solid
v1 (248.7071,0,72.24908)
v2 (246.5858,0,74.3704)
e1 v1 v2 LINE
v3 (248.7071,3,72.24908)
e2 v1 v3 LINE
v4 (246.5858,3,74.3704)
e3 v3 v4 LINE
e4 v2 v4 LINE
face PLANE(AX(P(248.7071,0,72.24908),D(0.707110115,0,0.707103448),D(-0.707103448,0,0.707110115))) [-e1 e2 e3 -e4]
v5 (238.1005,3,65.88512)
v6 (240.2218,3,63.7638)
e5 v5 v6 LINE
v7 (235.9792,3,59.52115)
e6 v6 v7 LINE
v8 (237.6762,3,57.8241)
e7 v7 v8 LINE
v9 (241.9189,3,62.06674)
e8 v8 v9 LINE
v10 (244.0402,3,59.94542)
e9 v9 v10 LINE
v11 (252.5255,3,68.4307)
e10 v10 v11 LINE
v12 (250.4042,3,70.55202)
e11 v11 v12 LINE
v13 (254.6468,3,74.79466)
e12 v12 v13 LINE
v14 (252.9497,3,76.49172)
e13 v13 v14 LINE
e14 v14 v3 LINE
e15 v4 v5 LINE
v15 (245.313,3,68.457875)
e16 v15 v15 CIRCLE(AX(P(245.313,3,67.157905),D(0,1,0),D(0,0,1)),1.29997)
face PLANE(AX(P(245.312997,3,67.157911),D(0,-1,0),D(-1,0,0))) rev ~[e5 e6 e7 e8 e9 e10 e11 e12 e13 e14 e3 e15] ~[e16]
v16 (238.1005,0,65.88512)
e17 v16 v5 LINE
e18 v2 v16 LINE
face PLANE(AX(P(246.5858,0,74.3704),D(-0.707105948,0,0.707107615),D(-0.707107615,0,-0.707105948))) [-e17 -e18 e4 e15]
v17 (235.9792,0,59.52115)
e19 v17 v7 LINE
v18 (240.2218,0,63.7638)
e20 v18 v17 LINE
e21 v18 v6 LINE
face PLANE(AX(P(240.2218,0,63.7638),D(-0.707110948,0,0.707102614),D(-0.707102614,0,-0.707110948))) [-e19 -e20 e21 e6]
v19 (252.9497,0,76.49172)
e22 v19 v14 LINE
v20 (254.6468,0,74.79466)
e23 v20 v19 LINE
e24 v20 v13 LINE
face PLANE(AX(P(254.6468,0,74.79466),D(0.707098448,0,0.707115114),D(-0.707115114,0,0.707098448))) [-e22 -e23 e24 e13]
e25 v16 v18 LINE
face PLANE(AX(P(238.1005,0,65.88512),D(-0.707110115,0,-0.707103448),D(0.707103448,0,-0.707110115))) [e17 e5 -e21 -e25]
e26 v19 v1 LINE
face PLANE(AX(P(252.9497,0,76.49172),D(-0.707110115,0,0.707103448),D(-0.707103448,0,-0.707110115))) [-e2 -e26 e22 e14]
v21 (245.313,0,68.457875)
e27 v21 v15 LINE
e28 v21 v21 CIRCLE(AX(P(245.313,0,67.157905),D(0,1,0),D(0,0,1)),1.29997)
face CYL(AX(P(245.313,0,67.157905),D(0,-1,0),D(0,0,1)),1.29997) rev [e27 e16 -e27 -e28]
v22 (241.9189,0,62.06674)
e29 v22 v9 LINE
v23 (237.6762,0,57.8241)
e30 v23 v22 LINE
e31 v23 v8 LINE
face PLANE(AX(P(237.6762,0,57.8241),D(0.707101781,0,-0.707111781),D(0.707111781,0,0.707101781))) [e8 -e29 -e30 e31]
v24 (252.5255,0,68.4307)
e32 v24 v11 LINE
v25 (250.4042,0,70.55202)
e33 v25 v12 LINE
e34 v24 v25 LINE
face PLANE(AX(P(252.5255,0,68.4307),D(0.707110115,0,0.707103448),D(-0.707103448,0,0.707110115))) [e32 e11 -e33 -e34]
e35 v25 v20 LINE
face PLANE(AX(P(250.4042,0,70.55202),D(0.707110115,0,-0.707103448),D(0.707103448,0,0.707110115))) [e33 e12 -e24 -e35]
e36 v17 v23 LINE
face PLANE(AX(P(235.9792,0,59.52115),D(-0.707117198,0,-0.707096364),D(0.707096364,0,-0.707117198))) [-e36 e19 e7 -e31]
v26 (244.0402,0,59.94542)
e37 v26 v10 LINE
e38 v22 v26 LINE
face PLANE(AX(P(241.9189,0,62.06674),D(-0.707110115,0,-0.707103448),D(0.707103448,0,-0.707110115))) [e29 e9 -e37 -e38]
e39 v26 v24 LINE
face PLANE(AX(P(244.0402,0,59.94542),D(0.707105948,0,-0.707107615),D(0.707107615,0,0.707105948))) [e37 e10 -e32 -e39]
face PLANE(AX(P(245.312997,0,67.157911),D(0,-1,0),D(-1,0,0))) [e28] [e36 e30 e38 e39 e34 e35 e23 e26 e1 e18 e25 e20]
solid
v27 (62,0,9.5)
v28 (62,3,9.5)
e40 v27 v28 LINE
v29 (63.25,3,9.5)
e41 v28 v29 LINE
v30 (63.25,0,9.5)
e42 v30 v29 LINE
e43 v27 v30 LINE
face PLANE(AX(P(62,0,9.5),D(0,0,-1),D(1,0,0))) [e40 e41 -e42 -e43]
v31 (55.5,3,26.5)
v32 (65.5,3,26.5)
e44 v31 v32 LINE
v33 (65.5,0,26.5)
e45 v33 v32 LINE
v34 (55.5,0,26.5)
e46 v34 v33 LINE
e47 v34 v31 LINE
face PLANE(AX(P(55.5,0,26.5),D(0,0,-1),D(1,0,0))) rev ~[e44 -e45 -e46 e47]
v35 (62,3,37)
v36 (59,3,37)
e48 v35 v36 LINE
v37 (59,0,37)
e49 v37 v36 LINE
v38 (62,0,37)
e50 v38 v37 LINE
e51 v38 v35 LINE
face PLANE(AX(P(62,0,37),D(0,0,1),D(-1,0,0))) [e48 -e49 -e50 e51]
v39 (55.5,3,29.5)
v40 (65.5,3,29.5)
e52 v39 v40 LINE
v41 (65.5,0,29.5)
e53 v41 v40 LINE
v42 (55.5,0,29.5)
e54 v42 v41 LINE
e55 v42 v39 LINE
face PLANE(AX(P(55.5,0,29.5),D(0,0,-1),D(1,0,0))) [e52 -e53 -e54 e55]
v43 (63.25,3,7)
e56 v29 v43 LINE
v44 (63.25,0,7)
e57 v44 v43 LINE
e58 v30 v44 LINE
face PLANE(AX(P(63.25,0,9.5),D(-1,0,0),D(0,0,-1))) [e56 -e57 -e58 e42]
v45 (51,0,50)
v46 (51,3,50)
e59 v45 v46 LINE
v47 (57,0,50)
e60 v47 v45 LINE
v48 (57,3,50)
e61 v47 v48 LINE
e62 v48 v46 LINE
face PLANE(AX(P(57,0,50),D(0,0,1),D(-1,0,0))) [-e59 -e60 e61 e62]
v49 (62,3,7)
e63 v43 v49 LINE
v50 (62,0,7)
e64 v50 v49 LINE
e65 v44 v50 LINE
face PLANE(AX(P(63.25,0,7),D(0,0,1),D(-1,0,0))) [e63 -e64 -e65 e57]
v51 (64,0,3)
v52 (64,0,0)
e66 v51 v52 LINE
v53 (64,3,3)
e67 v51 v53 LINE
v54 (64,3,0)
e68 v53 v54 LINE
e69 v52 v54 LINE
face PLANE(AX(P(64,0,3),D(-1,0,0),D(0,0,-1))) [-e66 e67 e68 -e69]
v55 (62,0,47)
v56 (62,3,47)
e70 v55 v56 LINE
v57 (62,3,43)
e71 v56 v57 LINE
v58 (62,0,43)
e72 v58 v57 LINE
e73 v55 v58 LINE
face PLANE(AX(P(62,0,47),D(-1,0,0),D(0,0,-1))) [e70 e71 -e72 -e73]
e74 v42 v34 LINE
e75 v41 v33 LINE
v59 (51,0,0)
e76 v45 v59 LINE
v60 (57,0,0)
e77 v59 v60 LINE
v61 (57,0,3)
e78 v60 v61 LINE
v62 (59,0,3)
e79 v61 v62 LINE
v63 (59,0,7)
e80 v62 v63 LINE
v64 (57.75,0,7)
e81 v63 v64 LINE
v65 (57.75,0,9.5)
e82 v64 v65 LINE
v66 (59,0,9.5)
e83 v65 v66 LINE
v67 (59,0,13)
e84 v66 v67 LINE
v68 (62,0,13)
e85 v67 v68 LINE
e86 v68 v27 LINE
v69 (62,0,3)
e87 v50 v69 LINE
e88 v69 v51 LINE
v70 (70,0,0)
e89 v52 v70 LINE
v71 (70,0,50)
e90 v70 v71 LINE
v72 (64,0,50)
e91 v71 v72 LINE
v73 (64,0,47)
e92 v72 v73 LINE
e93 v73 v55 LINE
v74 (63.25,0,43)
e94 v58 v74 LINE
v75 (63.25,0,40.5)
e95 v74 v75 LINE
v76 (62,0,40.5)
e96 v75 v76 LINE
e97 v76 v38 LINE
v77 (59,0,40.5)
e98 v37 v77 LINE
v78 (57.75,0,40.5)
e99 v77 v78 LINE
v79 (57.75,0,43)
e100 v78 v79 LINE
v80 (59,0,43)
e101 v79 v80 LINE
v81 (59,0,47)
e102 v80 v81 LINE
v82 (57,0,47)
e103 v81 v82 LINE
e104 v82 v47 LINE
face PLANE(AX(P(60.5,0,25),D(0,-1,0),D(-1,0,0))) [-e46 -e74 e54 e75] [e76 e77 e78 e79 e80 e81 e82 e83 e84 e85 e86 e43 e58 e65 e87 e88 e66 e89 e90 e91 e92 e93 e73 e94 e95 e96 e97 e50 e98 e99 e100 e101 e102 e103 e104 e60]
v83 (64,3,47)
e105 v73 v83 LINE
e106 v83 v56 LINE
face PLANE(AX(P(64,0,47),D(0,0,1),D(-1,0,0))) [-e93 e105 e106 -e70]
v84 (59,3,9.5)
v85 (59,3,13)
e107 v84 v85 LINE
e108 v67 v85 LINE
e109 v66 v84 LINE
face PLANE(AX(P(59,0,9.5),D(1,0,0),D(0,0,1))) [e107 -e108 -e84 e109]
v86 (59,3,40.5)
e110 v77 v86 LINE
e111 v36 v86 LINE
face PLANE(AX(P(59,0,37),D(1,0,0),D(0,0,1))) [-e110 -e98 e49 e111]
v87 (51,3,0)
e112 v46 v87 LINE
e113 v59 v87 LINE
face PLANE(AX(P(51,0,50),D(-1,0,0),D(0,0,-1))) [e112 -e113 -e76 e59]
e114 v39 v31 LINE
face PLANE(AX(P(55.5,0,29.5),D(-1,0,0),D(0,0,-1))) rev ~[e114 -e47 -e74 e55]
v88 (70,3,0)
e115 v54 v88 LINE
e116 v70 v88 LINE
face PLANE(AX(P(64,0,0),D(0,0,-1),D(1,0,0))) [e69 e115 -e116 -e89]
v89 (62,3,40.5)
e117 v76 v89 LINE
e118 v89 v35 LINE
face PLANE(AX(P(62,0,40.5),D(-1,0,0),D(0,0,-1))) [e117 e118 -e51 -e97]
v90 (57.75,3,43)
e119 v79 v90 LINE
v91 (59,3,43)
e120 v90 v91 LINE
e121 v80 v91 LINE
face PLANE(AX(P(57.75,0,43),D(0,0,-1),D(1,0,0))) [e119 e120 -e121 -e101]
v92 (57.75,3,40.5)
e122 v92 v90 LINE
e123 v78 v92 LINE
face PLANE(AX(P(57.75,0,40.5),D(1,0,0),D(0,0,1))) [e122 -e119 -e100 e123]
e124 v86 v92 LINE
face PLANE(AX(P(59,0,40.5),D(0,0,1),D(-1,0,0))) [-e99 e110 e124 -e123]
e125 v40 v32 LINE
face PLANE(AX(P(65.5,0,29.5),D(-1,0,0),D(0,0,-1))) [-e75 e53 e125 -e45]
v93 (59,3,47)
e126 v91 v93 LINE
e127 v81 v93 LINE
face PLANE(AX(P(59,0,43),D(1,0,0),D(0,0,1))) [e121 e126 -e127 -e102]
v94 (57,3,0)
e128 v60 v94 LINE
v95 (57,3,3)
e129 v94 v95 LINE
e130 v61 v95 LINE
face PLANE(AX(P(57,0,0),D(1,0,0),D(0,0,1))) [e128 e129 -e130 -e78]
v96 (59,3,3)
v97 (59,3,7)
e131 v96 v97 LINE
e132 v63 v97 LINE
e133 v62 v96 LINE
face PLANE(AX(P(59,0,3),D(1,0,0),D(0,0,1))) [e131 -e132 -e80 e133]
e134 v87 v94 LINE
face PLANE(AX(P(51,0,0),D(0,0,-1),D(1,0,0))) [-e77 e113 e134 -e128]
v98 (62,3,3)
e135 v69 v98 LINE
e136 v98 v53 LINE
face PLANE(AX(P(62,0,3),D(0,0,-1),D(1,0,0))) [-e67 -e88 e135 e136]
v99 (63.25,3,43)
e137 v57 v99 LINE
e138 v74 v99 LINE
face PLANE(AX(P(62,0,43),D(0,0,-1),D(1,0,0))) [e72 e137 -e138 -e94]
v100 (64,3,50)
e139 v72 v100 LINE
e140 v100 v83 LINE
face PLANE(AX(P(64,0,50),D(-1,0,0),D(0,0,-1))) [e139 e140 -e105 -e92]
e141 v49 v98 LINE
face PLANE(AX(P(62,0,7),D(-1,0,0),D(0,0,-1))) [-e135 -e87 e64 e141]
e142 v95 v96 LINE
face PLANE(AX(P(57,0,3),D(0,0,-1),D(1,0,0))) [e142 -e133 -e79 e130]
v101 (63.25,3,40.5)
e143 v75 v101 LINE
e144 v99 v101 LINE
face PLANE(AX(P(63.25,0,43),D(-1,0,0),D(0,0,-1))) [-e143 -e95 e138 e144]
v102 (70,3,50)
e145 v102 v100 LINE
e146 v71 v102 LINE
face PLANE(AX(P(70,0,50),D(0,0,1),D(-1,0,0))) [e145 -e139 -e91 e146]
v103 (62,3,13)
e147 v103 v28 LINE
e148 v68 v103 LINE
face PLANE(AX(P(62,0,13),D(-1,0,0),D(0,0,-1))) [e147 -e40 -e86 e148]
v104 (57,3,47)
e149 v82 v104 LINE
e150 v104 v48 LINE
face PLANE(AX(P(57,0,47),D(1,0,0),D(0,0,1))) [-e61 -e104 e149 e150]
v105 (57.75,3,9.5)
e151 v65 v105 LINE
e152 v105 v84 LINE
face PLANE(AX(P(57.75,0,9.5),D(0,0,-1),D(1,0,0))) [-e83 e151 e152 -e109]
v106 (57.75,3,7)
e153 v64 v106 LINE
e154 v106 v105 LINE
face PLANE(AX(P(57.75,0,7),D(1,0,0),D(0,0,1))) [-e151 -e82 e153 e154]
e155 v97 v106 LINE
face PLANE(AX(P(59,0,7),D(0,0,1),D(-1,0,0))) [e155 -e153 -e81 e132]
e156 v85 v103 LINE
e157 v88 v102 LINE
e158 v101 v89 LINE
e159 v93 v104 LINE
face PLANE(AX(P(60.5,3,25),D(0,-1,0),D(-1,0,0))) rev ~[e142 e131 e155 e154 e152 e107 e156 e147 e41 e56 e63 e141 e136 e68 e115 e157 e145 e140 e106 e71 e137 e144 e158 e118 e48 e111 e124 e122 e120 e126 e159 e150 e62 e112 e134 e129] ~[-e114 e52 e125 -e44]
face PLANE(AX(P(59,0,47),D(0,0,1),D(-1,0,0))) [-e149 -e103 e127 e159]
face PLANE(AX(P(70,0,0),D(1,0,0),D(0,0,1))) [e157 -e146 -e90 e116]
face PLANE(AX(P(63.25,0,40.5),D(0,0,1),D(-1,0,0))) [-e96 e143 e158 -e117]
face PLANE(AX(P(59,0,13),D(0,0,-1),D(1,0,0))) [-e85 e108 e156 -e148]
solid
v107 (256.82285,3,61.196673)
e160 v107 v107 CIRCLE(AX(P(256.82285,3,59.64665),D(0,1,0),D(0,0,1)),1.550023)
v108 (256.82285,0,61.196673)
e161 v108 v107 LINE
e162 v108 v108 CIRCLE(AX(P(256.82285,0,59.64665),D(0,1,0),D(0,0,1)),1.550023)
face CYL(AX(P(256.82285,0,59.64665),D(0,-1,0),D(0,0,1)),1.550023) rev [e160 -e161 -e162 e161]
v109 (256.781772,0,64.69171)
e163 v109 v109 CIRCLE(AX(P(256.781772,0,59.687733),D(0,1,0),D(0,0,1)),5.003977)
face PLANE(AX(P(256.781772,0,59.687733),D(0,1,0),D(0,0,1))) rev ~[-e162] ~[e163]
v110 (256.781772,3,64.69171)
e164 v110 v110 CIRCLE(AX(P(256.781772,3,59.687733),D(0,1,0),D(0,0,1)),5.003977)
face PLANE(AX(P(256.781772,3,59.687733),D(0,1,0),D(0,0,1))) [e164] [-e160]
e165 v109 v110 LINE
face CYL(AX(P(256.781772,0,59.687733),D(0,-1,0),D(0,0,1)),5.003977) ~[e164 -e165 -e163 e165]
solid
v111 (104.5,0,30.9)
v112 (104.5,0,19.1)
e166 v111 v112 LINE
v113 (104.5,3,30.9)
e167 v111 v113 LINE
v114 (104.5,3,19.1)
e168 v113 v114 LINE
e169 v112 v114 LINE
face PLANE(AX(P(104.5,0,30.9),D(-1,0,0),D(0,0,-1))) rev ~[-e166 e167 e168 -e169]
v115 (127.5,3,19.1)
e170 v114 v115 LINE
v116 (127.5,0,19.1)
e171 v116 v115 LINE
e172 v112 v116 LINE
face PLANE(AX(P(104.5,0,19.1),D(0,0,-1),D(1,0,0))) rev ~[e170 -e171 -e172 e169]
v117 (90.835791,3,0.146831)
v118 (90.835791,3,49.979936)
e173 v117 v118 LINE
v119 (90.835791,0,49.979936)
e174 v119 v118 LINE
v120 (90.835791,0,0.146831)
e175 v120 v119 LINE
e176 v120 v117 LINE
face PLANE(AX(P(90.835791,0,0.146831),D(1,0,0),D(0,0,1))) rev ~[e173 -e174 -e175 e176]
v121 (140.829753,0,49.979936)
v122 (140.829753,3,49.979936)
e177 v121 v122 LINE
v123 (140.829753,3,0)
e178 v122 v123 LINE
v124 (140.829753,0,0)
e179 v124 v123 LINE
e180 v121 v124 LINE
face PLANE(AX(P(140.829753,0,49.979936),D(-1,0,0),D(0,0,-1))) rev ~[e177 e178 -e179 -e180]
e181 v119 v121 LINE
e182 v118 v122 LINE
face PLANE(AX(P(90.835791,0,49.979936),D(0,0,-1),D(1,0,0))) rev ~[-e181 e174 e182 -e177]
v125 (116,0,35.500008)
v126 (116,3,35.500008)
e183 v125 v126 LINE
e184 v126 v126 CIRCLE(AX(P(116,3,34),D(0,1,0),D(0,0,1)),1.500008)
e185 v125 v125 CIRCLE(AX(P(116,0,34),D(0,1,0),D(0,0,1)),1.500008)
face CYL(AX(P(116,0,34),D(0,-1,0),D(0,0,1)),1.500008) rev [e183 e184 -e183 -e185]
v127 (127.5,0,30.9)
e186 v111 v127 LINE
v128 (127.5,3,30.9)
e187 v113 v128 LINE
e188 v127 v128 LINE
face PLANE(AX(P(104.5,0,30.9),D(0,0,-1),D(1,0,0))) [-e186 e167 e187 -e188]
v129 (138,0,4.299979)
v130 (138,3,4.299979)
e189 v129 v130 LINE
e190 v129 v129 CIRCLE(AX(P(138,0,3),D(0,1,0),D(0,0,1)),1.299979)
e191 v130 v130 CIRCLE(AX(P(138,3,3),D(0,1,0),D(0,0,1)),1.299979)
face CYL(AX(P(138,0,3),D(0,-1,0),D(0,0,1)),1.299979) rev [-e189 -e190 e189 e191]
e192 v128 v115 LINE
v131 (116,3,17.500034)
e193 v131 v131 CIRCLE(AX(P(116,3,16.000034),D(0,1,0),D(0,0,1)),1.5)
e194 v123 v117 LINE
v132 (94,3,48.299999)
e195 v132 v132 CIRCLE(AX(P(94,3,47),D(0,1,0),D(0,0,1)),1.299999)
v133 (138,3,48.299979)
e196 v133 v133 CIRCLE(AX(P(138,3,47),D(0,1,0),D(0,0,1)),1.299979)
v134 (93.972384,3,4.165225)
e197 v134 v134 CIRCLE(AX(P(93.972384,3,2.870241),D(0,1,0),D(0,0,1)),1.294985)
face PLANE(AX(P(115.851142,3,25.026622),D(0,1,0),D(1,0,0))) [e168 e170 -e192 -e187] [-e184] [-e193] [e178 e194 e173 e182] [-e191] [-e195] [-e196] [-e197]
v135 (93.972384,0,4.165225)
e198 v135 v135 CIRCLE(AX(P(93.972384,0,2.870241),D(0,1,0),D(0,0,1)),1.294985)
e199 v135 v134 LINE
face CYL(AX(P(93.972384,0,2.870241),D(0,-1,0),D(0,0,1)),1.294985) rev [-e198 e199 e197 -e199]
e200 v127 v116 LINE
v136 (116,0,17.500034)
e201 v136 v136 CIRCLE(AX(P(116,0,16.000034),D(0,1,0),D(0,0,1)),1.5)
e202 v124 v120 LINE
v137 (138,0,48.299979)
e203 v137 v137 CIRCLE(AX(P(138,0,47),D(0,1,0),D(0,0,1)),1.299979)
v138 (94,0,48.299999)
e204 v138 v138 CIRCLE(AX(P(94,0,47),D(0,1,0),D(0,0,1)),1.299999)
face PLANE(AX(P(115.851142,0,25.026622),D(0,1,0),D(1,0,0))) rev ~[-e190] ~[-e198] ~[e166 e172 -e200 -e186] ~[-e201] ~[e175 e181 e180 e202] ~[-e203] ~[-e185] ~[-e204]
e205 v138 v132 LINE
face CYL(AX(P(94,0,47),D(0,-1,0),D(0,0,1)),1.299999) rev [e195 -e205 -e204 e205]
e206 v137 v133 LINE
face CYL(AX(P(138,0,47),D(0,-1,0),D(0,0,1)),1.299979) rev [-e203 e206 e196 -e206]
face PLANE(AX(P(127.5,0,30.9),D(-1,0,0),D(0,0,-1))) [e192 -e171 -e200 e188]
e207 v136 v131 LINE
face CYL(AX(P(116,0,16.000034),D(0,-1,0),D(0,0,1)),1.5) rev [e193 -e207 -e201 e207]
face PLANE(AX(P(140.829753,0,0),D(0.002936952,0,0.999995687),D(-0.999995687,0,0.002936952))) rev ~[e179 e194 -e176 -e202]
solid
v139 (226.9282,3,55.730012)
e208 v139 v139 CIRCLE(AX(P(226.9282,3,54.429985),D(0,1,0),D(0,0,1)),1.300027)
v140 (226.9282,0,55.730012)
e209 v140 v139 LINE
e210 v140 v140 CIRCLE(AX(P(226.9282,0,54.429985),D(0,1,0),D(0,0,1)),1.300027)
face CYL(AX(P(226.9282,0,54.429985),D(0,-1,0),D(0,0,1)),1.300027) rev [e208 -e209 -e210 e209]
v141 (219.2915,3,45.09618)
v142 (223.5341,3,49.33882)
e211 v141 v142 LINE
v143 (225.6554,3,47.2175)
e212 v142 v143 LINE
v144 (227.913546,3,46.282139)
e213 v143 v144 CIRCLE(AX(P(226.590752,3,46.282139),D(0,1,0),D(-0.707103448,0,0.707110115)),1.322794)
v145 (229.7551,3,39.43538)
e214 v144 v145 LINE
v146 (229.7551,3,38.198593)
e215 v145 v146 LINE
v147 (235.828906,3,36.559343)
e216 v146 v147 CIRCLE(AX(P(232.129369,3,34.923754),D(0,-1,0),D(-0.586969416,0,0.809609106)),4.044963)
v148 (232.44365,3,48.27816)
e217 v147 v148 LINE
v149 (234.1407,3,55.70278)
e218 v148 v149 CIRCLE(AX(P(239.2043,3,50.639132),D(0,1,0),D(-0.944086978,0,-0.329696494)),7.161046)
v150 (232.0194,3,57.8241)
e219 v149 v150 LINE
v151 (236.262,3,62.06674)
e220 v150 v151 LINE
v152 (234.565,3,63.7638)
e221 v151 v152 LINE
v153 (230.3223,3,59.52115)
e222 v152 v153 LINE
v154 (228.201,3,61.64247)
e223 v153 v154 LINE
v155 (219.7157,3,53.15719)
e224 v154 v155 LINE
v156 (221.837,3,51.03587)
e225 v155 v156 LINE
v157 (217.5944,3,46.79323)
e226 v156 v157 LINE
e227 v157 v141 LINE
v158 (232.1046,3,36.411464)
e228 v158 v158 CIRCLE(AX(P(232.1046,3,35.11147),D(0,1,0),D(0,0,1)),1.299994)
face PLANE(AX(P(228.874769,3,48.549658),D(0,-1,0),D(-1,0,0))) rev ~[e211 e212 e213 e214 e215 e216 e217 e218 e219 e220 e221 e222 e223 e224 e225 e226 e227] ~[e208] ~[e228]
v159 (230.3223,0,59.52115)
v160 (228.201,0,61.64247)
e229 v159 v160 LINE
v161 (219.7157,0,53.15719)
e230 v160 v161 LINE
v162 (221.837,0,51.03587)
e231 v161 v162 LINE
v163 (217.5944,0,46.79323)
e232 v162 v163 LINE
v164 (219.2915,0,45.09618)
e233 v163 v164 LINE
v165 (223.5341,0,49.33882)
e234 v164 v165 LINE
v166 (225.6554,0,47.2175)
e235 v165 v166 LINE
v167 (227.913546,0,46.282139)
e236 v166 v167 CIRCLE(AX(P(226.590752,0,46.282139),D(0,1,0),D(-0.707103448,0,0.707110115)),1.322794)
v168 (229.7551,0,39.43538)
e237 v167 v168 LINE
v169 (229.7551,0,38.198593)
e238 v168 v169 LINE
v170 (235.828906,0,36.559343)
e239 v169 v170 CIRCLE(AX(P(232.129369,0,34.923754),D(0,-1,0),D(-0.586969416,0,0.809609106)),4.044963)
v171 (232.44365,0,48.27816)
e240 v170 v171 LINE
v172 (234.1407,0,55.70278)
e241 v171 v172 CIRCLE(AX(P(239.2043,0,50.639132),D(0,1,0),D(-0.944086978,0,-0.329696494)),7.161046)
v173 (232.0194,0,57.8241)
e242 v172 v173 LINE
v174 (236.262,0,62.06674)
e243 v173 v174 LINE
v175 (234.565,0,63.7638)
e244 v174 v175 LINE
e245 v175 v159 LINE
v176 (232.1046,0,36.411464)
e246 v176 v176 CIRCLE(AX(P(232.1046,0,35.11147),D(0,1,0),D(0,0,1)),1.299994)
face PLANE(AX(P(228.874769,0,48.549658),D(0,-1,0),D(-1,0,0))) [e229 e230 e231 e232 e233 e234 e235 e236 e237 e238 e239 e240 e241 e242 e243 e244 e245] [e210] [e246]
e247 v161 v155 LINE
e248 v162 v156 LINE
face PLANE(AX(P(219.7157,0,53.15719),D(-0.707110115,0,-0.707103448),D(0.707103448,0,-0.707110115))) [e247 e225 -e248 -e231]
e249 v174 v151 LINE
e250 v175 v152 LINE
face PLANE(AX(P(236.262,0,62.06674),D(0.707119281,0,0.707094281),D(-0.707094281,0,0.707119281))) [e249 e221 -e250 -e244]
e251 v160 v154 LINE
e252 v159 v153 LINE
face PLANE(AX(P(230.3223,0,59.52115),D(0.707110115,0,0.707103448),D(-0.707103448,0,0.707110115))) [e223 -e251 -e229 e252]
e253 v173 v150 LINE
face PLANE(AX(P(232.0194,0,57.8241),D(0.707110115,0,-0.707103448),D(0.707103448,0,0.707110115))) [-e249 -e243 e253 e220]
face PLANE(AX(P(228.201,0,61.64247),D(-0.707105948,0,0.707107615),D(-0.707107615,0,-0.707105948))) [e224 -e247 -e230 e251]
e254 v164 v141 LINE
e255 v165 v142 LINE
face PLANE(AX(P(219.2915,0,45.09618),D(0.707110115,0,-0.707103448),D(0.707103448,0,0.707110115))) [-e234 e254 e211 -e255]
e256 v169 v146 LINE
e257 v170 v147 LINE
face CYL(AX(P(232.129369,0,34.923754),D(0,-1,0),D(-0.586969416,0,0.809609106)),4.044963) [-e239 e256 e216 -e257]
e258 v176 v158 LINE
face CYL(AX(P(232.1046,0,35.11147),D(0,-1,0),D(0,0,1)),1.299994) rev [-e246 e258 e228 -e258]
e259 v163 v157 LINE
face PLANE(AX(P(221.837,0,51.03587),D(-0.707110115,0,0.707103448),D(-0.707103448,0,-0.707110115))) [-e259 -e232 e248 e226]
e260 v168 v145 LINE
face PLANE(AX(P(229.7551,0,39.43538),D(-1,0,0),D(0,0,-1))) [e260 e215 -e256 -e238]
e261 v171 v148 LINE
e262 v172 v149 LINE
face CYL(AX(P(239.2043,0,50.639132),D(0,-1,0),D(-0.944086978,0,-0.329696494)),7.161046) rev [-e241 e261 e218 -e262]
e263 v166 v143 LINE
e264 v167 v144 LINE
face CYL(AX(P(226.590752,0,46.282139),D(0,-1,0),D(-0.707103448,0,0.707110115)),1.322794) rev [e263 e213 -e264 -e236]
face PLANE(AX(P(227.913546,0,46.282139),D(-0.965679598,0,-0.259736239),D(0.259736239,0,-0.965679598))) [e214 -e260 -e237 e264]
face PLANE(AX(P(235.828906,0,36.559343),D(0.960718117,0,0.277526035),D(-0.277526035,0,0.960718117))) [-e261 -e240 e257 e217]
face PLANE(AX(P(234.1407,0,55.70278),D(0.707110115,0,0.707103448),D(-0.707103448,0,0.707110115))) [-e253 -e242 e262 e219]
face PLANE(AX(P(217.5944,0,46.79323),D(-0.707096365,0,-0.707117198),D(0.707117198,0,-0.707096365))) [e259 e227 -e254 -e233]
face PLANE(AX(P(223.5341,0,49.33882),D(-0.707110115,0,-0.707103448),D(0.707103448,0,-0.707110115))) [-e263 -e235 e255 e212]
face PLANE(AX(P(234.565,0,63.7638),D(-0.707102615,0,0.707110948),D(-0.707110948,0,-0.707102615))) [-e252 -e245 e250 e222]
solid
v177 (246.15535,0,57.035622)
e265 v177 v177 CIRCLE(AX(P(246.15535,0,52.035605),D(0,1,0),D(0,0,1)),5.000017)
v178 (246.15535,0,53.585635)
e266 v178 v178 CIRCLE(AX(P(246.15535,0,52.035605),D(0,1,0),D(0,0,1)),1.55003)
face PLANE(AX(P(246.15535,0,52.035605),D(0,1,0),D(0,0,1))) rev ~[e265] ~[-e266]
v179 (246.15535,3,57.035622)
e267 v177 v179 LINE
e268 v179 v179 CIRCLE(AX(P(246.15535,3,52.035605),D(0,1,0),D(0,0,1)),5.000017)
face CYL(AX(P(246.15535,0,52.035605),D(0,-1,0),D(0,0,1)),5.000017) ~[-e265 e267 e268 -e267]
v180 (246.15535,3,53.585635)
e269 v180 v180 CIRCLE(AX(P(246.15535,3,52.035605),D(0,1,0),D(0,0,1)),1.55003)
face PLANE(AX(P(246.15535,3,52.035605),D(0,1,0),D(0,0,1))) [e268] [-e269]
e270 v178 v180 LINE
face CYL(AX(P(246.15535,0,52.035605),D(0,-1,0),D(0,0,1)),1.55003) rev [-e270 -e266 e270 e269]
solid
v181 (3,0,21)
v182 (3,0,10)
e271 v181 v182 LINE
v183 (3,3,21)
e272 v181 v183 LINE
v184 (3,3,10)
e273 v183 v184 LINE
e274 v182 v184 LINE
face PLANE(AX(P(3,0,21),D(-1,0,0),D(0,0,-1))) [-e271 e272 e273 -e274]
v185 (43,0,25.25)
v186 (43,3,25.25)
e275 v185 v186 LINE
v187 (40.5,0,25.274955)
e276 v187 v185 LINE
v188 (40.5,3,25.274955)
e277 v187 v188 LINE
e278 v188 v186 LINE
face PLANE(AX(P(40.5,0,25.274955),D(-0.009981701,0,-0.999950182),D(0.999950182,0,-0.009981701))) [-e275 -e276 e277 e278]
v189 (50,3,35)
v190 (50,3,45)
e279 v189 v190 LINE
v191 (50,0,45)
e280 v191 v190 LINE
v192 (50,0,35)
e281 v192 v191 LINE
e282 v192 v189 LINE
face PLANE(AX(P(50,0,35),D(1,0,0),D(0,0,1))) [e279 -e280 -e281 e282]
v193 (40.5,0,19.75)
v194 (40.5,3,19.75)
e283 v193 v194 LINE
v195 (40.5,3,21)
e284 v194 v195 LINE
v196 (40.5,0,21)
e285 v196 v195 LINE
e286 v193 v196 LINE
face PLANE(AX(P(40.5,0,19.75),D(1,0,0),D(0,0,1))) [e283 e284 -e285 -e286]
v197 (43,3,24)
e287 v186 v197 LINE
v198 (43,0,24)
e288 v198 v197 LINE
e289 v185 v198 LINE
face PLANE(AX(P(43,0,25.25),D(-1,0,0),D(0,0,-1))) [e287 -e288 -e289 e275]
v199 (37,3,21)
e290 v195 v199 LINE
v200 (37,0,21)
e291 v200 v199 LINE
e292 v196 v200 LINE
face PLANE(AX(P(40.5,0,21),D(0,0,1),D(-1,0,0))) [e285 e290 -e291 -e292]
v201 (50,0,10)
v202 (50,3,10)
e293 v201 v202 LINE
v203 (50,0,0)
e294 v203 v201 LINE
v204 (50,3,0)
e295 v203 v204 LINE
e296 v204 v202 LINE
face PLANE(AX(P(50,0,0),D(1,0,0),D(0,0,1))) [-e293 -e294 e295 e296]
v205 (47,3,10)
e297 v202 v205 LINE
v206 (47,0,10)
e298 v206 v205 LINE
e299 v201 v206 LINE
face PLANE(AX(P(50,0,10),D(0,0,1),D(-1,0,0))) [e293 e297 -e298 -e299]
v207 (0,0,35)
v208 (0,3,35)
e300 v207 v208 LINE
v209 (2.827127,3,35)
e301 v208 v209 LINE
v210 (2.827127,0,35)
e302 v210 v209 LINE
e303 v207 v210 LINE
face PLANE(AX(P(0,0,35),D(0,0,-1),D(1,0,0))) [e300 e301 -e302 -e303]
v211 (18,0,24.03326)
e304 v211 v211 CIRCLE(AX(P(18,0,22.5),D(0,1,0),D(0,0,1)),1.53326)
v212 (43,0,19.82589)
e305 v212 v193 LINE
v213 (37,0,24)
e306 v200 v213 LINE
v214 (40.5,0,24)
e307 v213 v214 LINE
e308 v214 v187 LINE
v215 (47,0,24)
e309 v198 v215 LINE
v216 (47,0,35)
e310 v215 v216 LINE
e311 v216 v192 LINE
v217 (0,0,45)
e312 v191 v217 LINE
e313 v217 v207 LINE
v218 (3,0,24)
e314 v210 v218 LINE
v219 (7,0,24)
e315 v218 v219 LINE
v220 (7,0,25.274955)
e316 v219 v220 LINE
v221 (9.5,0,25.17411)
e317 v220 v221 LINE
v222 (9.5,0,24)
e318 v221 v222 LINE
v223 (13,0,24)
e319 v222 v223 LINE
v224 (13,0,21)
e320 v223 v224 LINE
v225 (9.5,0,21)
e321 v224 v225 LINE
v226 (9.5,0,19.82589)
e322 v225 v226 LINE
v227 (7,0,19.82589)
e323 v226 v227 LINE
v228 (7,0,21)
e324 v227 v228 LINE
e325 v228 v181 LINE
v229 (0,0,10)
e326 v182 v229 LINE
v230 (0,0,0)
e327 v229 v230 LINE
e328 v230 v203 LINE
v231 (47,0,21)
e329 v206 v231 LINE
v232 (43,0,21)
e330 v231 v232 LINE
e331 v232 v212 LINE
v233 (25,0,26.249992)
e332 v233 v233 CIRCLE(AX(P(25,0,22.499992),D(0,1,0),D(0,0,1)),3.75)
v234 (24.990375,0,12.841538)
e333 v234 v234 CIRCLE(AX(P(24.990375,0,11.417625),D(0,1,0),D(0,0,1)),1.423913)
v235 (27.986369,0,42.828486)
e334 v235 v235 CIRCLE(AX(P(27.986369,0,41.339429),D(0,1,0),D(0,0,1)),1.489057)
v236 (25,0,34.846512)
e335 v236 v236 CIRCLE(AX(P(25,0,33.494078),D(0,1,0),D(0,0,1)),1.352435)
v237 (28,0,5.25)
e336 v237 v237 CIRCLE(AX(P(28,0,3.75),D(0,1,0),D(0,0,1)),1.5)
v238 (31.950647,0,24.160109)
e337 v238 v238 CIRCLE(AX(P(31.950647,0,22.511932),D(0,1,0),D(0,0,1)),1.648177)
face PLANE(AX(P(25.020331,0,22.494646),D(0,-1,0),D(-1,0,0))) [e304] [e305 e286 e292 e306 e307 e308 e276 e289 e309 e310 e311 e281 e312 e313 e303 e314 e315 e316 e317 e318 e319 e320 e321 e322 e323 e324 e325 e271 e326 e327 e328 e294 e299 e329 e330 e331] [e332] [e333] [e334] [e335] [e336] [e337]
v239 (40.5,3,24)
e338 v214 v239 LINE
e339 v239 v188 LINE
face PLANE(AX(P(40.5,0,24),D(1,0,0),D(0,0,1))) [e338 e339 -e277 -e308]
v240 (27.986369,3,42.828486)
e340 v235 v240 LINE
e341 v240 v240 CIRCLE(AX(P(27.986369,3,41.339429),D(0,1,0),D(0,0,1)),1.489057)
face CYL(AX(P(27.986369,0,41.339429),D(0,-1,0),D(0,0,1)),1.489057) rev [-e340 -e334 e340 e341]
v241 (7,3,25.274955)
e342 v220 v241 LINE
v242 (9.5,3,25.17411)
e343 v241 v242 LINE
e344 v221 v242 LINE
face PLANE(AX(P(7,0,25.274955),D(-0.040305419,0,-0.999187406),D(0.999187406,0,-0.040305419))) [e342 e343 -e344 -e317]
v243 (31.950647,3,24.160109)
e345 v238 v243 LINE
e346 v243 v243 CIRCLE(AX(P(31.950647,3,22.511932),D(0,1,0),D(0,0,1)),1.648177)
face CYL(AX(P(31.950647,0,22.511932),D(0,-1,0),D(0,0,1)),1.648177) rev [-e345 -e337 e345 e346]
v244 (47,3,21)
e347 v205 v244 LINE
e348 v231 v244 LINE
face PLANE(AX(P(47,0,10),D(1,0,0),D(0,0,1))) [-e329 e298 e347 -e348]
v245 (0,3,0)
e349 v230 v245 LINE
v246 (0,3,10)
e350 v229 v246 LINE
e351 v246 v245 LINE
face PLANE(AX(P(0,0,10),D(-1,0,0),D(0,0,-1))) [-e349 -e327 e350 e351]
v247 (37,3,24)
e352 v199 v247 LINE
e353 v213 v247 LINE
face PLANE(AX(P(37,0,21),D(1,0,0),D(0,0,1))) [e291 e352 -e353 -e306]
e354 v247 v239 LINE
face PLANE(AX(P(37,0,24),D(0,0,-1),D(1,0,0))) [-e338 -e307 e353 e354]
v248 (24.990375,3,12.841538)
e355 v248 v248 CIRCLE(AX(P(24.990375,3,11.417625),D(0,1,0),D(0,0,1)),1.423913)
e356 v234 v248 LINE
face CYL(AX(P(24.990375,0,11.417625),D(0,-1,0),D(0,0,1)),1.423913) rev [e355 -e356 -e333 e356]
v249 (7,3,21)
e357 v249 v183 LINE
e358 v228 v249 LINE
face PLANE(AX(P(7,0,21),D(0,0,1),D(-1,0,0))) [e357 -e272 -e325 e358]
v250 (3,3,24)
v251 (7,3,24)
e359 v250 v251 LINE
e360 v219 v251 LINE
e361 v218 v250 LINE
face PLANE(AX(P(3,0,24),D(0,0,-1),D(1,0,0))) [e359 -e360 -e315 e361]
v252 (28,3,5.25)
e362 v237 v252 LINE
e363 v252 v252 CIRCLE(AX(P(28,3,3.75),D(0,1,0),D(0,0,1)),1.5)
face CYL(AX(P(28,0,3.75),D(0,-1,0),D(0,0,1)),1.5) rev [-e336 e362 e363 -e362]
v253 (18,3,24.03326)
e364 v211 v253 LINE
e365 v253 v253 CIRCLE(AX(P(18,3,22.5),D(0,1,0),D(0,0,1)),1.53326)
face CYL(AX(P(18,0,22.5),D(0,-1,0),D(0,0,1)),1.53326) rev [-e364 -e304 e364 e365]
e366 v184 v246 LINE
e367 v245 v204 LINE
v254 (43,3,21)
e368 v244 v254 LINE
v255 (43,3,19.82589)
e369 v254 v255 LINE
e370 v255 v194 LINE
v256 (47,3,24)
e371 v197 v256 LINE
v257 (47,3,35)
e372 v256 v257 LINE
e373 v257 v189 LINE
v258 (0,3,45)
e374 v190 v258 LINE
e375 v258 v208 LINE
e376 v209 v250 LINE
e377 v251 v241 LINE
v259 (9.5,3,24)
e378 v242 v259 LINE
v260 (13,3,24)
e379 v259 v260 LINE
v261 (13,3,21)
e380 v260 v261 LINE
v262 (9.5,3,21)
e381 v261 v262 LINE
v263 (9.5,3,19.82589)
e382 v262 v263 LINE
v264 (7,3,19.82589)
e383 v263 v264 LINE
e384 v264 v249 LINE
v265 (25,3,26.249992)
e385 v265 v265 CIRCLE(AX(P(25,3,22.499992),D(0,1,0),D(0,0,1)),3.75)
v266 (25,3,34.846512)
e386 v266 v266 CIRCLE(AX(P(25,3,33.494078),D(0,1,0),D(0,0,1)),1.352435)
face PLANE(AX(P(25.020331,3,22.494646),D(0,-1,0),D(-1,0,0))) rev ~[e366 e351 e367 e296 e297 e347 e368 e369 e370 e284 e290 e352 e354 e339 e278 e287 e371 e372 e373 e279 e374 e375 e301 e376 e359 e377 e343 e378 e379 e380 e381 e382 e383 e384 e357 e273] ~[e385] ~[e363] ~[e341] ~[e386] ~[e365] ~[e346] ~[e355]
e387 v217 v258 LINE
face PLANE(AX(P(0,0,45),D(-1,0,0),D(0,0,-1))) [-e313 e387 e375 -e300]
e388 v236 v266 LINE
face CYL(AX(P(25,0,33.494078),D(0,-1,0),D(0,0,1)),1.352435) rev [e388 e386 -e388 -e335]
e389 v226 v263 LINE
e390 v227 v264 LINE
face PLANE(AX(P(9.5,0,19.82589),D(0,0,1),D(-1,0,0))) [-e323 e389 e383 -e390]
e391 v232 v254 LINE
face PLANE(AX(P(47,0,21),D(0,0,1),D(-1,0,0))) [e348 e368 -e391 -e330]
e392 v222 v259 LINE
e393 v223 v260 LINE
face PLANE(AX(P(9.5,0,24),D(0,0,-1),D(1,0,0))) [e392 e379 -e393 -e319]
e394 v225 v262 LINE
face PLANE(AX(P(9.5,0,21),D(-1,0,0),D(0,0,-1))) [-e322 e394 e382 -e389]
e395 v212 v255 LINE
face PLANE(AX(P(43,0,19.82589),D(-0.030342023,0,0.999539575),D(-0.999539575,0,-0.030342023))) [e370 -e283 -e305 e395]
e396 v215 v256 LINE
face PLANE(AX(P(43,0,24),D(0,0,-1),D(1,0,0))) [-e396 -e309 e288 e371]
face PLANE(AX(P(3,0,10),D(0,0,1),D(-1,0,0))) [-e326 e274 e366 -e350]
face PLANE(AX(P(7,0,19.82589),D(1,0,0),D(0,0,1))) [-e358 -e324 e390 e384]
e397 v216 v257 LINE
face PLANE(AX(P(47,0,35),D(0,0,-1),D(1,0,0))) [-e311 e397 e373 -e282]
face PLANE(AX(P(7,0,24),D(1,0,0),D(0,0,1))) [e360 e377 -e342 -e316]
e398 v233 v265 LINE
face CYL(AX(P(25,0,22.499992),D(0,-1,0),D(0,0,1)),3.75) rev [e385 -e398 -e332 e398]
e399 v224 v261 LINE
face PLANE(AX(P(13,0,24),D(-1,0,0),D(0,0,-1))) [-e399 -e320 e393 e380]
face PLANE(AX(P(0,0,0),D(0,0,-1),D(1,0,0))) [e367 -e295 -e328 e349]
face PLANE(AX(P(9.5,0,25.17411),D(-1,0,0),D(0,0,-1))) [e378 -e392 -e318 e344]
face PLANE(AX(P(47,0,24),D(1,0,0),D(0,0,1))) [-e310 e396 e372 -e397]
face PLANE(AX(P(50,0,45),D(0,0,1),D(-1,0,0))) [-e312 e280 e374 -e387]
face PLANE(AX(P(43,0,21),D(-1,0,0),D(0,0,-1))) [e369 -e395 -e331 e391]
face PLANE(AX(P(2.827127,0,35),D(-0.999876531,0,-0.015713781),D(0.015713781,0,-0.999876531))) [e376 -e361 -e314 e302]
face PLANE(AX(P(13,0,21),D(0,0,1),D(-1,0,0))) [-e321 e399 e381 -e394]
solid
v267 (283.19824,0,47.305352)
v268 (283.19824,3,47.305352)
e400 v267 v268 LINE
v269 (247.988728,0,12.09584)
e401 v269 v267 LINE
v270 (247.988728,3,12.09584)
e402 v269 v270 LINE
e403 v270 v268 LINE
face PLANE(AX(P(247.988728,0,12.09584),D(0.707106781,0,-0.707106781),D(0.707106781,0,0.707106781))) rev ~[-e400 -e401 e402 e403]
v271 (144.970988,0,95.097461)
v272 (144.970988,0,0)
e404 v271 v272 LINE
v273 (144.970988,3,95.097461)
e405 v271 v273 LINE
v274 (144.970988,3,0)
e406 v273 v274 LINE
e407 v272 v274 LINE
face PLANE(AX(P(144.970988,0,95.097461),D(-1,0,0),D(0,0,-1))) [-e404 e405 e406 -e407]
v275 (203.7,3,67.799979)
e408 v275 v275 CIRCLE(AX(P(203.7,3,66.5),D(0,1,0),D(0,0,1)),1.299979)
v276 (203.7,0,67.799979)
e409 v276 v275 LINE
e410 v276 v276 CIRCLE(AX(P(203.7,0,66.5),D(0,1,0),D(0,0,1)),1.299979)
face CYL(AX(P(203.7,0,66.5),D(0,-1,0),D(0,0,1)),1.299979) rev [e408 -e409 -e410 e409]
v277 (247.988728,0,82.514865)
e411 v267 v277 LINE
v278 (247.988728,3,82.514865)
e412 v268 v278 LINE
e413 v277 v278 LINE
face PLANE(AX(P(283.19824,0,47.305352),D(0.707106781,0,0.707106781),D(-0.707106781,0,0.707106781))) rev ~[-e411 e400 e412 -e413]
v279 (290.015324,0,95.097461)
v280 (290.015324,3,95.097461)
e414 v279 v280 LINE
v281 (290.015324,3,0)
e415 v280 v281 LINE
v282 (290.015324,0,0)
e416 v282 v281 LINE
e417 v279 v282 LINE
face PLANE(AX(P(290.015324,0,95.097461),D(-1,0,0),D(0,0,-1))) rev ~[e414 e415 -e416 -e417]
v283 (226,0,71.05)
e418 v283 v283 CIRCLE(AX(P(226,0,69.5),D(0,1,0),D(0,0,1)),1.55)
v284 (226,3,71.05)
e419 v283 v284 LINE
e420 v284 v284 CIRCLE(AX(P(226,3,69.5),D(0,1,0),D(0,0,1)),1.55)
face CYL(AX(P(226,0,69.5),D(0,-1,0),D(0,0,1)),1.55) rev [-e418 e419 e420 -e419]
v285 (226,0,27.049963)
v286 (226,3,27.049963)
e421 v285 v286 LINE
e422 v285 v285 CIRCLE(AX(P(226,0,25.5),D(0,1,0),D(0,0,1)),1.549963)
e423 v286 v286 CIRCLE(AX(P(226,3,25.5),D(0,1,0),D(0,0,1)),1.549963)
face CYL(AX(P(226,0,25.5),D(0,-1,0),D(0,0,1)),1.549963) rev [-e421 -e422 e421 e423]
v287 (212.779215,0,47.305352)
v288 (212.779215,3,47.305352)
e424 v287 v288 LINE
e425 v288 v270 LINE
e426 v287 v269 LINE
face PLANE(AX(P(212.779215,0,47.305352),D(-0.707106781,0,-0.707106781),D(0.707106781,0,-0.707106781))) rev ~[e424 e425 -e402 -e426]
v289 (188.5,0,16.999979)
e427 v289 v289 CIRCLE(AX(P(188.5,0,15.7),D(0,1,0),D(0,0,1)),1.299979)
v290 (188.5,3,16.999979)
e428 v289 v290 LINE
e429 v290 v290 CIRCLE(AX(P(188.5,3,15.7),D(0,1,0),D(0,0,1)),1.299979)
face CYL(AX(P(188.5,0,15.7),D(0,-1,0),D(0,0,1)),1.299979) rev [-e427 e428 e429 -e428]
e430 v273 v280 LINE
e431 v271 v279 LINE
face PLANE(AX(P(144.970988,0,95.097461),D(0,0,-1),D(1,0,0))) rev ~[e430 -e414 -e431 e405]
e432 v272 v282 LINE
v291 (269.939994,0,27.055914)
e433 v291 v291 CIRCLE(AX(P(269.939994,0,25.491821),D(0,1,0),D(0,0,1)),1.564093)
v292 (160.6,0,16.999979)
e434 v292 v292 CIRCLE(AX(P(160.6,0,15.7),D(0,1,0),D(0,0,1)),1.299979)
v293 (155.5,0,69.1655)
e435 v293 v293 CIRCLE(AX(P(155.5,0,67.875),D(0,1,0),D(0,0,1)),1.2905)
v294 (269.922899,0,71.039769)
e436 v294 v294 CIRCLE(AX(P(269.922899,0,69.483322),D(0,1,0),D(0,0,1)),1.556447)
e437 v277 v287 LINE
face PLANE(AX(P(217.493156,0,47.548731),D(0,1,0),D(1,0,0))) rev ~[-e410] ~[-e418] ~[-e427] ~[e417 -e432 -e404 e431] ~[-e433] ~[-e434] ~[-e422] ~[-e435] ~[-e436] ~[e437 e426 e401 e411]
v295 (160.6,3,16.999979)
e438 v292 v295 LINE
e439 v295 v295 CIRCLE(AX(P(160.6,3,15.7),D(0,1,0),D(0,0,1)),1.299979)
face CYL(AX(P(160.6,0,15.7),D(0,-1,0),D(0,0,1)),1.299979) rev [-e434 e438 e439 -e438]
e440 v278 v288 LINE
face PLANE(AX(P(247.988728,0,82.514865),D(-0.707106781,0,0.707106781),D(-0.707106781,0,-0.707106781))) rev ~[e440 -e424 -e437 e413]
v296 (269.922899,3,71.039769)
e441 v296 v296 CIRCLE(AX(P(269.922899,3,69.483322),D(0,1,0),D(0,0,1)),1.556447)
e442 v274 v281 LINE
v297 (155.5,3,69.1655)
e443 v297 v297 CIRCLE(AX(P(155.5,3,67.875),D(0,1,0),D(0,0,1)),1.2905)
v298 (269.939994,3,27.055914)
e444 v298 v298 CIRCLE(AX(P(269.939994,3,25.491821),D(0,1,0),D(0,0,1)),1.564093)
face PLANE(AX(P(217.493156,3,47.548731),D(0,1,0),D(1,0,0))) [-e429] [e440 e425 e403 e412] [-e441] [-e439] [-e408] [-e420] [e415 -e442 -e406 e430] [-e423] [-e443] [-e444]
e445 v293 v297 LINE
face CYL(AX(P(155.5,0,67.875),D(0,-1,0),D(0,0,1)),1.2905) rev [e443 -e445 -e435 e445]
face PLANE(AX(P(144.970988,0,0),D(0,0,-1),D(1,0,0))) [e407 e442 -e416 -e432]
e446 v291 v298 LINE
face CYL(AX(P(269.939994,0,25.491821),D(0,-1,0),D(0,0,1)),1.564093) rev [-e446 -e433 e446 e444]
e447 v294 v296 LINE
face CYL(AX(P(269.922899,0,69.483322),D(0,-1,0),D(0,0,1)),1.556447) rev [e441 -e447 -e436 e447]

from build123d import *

# Parameters (mm, degrees)
SKETCH3_R             = 3.75
SKETCH3_R_2           = 1.53326
SKETCH3_R_3           = 1.42391285
SKETCH3_R_4           = 1.648176726
SKETCH3_R_5           = 1.5
SKETCH3_R_6           = 1.352434515
SKETCH3_R_7           = 1.489057141
BOSS_EXTRUDE1_DEPTH   = 3
SKETCH5_W             = 10
SKETCH5_H             = 3
BOSS_EXTRUDE2_DEPTH   = 3
SKETCH8_R             = 1.5
SKETCH8_R_2           = 1.500007616
SKETCH8_R_3           = 1.299978659
SKETCH8_R_4           = 1.299998754
SKETCH8_R_5           = 1.294984531
SKETCH8_R_6           = 1.2999789
SKETCH8_W             = 23
SKETCH8_H             = 11.8
BOSS_EXTRUDE3_DEPTH   = 3
SKETCH14_R            = 5.00001662
SKETCH14_R_2          = 1.550029918
BOSS_EXTRUDE5_DEPTH   = 3
SKETCH14_R_3          = 5.003976988
SKETCH14_R_4          = 1.550023427
BOSS_EXTRUDE5_2_DEPTH = 3
SKETCH14_R_5          = 1.299993938
SKETCH14_R_6          = 1.300026864
BOSS_EXTRUDE5_3_DEPTH = 3
SKETCH14_R_7          = 1.299969961
BOSS_EXTRUDE5_4_DEPTH = 3
SKETCH10_W            = 145.044336183
SKETCH10_H            = 95.097461227
SKETCH10_R            = 1.549963263
SKETCH10_R_2          = 1.2999789
SKETCH10_R_3          = 1.2905
SKETCH10_R_4          = 1.55
SKETCH10_R_5          = 1.564093454
SKETCH10_R_6          = 1.556446812
BOSS_EXTRUDE4_DEPTH   = 3


with BuildPart() as part:
    # Sketch3 → Boss-Extrude1 (new body)
    with BuildSketch(Plane(origin=(0, 0, 0), x_dir=(1, 0, 0), z_dir=(0, 1, 0))):
        Polygon((0, 0), (50, 0), (50, -10), (47, -10), (47, -21), (43, -21), (43, -19.82589), (40.5, -19.75), (40.5, -21), (37, -21), (37, -24), (40.5, -24), (40.5, -25.274955495), (43, -25.25), (43, -24), (47, -24), (47, -35), (50, -35), (50, -45), (0, -45), (0, -35), (2.827127063, -35), (3, -24), (7, -24), (7, -25.274955495), (9.5, -25.17411), (9.5, -24), (13, -24), (13, -21), (9.5, -21), (9.5, -19.82589), (7, -19.82589), (7, -21), (3, -21), (3, -10), (0, -10), align=None)
        with Locations(Location((25, -22.499992494, 0), (0, 0, 270))):
            Circle(SKETCH3_R, mode=Mode.SUBTRACT)
        with Locations(Location((18, -22.5, 0), (0, 0, 270))):
            Circle(SKETCH3_R_2, mode=Mode.SUBTRACT)
        with Locations(Location((24.990375, -11.417625, 0), (0, 0, 270))):
            Circle(SKETCH3_R_3, mode=Mode.SUBTRACT)
        with Locations(Location((31.950646971, -22.511932172, 0), (0, 0, 270))):
            Circle(SKETCH3_R_4, mode=Mode.SUBTRACT)
        with Locations(Location((28, -3.75, 0), (0, 0, 270))):
            Circle(SKETCH3_R_5, mode=Mode.SUBTRACT)
        with Locations(Location((25, -33.494077682, 0), (0, 0, 270))):
            Circle(SKETCH3_R_6, mode=Mode.SUBTRACT)
        with Locations(Location((27.986369291, -41.339428739, 0), (0, 0, 270))):
            Circle(SKETCH3_R_7, mode=Mode.SUBTRACT)
    extrude(amount=BOSS_EXTRUDE1_DEPTH)


with BuildPart() as body_2:
    # Sketch5 → Boss-Extrude2 (new body)
    with BuildSketch(Plane(origin=(0, 0, 0), x_dir=(1, 0, 0), z_dir=(0, 1, 0))):
        Polygon((57, 0), (57, -3), (59, -3), (59, -7), (57.75, -7), (57.75, -9.5), (59, -9.5), (59, -13), (62, -13), (62, -9.5), (63.25, -9.5), (63.25, -7), (62, -7), (62, -3), (64, -3), (64, 0), (70, 0), (70, -50), (64, -50), (64, -47), (62, -47), (62, -43), (63.25, -43), (63.25, -40.5), (62, -40.5), (62, -37), (59, -37), (59, -40.5), (57.75, -40.5), (57.75, -43), (59, -43), (59, -47), (57, -47), (57, -50), (51, -50), (51, 0), align=None)
        with Locations((60.5, -28)):
            Rectangle(SKETCH5_W, SKETCH5_H, mode=Mode.SUBTRACT)
    extrude(amount=BOSS_EXTRUDE2_DEPTH)


with BuildPart() as body_3:
    # Sketch8 → Boss-Extrude3 (new body)
    with BuildSketch(Plane(origin=(0, 0, 0), x_dir=(1, 0, 0), z_dir=(0, 1, 0))):
        Polygon((90.835790983, -0.1468305), (90.835790983, -49.979936215), (140.829753359, -49.979936215), (140.829753359, 0), align=None)
        with Locations(Location((116, -16.000034227, 0), (0, 0, 270))):
            Circle(SKETCH8_R, mode=Mode.SUBTRACT)
        with Locations(Location((116, -34, 0), (0, 0, 270))):
            Circle(SKETCH8_R_2, mode=Mode.SUBTRACT)
        with Locations(Location((138, -3, 0), (0, 0, 270))):
            Circle(SKETCH8_R_3, mode=Mode.SUBTRACT)
        with Locations(Location((94, -47, 0), (0, 0, 270))):
            Circle(SKETCH8_R_4, mode=Mode.SUBTRACT)
        with Locations(Location((93.972384297, -2.870240899, 0), (0, 0, 270))):
            Circle(SKETCH8_R_5, mode=Mode.SUBTRACT)
        with Locations(Location((138, -47, 0), (0, 0, 270))):
            Circle(SKETCH8_R_6, mode=Mode.SUBTRACT)
        with Locations((116, -25)):
            Rectangle(SKETCH8_W, SKETCH8_H, mode=Mode.SUBTRACT)
    extrude(amount=BOSS_EXTRUDE3_DEPTH)


with BuildPart() as body_4:
    # Sketch14 → Boss-Extrude5 (new body)
    with BuildSketch(Plane(origin=(0, 0, 0), x_dir=(1, 0, 0), z_dir=(0, 1, 0))):
        with Locations(Location((246.15535, -52.035605, 0), (0, 0, 270))):
            Circle(SKETCH14_R)
        with Locations(Location((246.15535, -52.035605, 0), (0, 0, 270))):
            Circle(SKETCH14_R_2, mode=Mode.SUBTRACT)
    extrude(amount=BOSS_EXTRUDE5_DEPTH)


with BuildPart() as body_5:
    # Sketch14 → Boss-Extrude5 2 (new body)
    with BuildSketch(Plane(origin=(0, 0, 0), x_dir=(1, 0, 0), z_dir=(0, 1, 0))):
        with Locations(Location((256.781771683, -59.687732945, 0), (0, 0, 270))):
            Circle(SKETCH14_R_3)
        with Locations(Location((256.82285, -59.64665, 0), (0, 0, 270))):
            Circle(SKETCH14_R_4, mode=Mode.SUBTRACT)
    extrude(amount=BOSS_EXTRUDE5_2_DEPTH)


with BuildPart() as body_6:
    # Sketch14 → Boss-Extrude5 3 (new body)
    with BuildSketch(Plane(origin=(0, 0, 0), x_dir=(1, 0, 0), z_dir=(0, 1, 0))):
        with BuildLine():
            Line((234.1407, -55.70278), (232.0194, -57.8241))
            Line((232.0194, -57.8241), (236.262, -62.06674))
            Line((236.262, -62.06674), (234.565, -63.7638))
            Line((234.565, -63.7638), (230.3223, -59.52115))
            Line((230.3223, -59.52115), (228.201, -61.64247))
            Line((228.201, -61.64247), (219.7157, -53.15719))
            Line((219.7157, -53.15719), (221.837, -51.03587))
            Line((221.837, -51.03587), (217.5944, -46.79323))
            Line((217.5944, -46.79323), (219.2915, -45.09618))
            Line((219.2915, -45.09618), (223.5341, -49.33882))
            Line((223.5341, -49.33882), (225.6554, -47.2175))
            ThreePointArc((225.6554, -47.2175), (227.096966061, -47.504240019), (227.913545624, -46.282139221))
            Line((227.913545624, -46.282139221), (229.7551, -39.43538))
            Line((229.7551, -39.43538), (229.7551, -38.198592891))
            ThreePointArc((229.7551, -38.198592891), (231.075391639, -31.018520336), (235.828906167, -36.559342615))
            Line((235.828906167, -36.559342615), (232.44365, -48.27816))
            ThreePointArc((232.44365, -48.27816), (232.223292436, -52.234785151), (234.1407, -55.70278))
        make_face()
        with Locations(Location((232.1046, -35.11147, 0), (0, 0, 270))):
            Circle(SKETCH14_R_5, mode=Mode.SUBTRACT)
        with Locations(Location((226.9282, -54.429985, 0), (0, 0, 270))):
            Circle(SKETCH14_R_6, mode=Mode.SUBTRACT)
    extrude(amount=BOSS_EXTRUDE5_3_DEPTH)


with BuildPart() as body_7:
    # Sketch14 → Boss-Extrude5 4 (new body)
    with BuildSketch(Plane(origin=(0, 0, 0), x_dir=(1, 0, 0), z_dir=(0, 1, 0))):
        Polygon((244.0402, -59.94542), (252.5255, -68.4307), (250.4042, -70.55202), (254.6468, -74.79466), (252.9497, -76.49172), (248.7071, -72.24908), (246.5858, -74.3704), (238.1005, -65.88512), (240.2218, -63.7638), (235.9792, -59.52115), (237.6762, -57.8241), (241.9189, -62.06674), align=None)
        with Locations(Location((245.313, -67.157905, 0), (0, 0, 270))):
            Circle(SKETCH14_R_7, mode=Mode.SUBTRACT)
    extrude(amount=BOSS_EXTRUDE5_4_DEPTH)


with BuildPart() as body_8:
    # Sketch10 → Boss-Extrude4 (new body)
    with BuildSketch(Plane(origin=(0, 0, 0), x_dir=(1, 0, 0), z_dir=(0, 1, 0))):
        with Locations((217.493156088, -47.548730614)):
            Rectangle(SKETCH10_W, SKETCH10_H)
        with Locations(Location((226, -25.5, 0), (0, 0, 270))):
            Circle(SKETCH10_R, mode=Mode.SUBTRACT)
        with Locations(Location((188.5, -15.7, 0), (0, 0, 270))):
            Circle(SKETCH10_R_2, mode=Mode.SUBTRACT)
        with Locations(Location((160.6, -15.7, 0), (0, 0, 270))):
            Circle(SKETCH10_R_2, mode=Mode.SUBTRACT)
        with Locations(Location((155.5, -67.875, 0), (0, 0, 270))):
            Circle(SKETCH10_R_3, mode=Mode.SUBTRACT)
        with Locations(Location((203.7, -66.5, 0), (0, 0, 270))):
            Circle(SKETCH10_R_2, mode=Mode.SUBTRACT)
        with Locations(Location((226, -69.5, 0), (0, 0, 270))):
            Circle(SKETCH10_R_4, mode=Mode.SUBTRACT)
        with Locations(Location((269.939993732, -25.491820621, 0), (0, 0, 270))):
            Circle(SKETCH10_R_5, mode=Mode.SUBTRACT)
        with Locations(Location((269.922899471, -69.483321735, 0), (0, 0, 270))):
            Circle(SKETCH10_R_6, mode=Mode.SUBTRACT)
        Polygon((247.98872777, -12.095839846), (283.198240379, -47.305352454), (247.98872777, -82.514865063), (212.779215162, -47.305352454), align=None, mode=Mode.SUBTRACT)
    extrude(amount=BOSS_EXTRUDE4_DEPTH)


solid = Compound([part.part, body_2.part, body_3.part, body_4.part, body_5.part, body_6.part, body_7.part, body_8.part])
